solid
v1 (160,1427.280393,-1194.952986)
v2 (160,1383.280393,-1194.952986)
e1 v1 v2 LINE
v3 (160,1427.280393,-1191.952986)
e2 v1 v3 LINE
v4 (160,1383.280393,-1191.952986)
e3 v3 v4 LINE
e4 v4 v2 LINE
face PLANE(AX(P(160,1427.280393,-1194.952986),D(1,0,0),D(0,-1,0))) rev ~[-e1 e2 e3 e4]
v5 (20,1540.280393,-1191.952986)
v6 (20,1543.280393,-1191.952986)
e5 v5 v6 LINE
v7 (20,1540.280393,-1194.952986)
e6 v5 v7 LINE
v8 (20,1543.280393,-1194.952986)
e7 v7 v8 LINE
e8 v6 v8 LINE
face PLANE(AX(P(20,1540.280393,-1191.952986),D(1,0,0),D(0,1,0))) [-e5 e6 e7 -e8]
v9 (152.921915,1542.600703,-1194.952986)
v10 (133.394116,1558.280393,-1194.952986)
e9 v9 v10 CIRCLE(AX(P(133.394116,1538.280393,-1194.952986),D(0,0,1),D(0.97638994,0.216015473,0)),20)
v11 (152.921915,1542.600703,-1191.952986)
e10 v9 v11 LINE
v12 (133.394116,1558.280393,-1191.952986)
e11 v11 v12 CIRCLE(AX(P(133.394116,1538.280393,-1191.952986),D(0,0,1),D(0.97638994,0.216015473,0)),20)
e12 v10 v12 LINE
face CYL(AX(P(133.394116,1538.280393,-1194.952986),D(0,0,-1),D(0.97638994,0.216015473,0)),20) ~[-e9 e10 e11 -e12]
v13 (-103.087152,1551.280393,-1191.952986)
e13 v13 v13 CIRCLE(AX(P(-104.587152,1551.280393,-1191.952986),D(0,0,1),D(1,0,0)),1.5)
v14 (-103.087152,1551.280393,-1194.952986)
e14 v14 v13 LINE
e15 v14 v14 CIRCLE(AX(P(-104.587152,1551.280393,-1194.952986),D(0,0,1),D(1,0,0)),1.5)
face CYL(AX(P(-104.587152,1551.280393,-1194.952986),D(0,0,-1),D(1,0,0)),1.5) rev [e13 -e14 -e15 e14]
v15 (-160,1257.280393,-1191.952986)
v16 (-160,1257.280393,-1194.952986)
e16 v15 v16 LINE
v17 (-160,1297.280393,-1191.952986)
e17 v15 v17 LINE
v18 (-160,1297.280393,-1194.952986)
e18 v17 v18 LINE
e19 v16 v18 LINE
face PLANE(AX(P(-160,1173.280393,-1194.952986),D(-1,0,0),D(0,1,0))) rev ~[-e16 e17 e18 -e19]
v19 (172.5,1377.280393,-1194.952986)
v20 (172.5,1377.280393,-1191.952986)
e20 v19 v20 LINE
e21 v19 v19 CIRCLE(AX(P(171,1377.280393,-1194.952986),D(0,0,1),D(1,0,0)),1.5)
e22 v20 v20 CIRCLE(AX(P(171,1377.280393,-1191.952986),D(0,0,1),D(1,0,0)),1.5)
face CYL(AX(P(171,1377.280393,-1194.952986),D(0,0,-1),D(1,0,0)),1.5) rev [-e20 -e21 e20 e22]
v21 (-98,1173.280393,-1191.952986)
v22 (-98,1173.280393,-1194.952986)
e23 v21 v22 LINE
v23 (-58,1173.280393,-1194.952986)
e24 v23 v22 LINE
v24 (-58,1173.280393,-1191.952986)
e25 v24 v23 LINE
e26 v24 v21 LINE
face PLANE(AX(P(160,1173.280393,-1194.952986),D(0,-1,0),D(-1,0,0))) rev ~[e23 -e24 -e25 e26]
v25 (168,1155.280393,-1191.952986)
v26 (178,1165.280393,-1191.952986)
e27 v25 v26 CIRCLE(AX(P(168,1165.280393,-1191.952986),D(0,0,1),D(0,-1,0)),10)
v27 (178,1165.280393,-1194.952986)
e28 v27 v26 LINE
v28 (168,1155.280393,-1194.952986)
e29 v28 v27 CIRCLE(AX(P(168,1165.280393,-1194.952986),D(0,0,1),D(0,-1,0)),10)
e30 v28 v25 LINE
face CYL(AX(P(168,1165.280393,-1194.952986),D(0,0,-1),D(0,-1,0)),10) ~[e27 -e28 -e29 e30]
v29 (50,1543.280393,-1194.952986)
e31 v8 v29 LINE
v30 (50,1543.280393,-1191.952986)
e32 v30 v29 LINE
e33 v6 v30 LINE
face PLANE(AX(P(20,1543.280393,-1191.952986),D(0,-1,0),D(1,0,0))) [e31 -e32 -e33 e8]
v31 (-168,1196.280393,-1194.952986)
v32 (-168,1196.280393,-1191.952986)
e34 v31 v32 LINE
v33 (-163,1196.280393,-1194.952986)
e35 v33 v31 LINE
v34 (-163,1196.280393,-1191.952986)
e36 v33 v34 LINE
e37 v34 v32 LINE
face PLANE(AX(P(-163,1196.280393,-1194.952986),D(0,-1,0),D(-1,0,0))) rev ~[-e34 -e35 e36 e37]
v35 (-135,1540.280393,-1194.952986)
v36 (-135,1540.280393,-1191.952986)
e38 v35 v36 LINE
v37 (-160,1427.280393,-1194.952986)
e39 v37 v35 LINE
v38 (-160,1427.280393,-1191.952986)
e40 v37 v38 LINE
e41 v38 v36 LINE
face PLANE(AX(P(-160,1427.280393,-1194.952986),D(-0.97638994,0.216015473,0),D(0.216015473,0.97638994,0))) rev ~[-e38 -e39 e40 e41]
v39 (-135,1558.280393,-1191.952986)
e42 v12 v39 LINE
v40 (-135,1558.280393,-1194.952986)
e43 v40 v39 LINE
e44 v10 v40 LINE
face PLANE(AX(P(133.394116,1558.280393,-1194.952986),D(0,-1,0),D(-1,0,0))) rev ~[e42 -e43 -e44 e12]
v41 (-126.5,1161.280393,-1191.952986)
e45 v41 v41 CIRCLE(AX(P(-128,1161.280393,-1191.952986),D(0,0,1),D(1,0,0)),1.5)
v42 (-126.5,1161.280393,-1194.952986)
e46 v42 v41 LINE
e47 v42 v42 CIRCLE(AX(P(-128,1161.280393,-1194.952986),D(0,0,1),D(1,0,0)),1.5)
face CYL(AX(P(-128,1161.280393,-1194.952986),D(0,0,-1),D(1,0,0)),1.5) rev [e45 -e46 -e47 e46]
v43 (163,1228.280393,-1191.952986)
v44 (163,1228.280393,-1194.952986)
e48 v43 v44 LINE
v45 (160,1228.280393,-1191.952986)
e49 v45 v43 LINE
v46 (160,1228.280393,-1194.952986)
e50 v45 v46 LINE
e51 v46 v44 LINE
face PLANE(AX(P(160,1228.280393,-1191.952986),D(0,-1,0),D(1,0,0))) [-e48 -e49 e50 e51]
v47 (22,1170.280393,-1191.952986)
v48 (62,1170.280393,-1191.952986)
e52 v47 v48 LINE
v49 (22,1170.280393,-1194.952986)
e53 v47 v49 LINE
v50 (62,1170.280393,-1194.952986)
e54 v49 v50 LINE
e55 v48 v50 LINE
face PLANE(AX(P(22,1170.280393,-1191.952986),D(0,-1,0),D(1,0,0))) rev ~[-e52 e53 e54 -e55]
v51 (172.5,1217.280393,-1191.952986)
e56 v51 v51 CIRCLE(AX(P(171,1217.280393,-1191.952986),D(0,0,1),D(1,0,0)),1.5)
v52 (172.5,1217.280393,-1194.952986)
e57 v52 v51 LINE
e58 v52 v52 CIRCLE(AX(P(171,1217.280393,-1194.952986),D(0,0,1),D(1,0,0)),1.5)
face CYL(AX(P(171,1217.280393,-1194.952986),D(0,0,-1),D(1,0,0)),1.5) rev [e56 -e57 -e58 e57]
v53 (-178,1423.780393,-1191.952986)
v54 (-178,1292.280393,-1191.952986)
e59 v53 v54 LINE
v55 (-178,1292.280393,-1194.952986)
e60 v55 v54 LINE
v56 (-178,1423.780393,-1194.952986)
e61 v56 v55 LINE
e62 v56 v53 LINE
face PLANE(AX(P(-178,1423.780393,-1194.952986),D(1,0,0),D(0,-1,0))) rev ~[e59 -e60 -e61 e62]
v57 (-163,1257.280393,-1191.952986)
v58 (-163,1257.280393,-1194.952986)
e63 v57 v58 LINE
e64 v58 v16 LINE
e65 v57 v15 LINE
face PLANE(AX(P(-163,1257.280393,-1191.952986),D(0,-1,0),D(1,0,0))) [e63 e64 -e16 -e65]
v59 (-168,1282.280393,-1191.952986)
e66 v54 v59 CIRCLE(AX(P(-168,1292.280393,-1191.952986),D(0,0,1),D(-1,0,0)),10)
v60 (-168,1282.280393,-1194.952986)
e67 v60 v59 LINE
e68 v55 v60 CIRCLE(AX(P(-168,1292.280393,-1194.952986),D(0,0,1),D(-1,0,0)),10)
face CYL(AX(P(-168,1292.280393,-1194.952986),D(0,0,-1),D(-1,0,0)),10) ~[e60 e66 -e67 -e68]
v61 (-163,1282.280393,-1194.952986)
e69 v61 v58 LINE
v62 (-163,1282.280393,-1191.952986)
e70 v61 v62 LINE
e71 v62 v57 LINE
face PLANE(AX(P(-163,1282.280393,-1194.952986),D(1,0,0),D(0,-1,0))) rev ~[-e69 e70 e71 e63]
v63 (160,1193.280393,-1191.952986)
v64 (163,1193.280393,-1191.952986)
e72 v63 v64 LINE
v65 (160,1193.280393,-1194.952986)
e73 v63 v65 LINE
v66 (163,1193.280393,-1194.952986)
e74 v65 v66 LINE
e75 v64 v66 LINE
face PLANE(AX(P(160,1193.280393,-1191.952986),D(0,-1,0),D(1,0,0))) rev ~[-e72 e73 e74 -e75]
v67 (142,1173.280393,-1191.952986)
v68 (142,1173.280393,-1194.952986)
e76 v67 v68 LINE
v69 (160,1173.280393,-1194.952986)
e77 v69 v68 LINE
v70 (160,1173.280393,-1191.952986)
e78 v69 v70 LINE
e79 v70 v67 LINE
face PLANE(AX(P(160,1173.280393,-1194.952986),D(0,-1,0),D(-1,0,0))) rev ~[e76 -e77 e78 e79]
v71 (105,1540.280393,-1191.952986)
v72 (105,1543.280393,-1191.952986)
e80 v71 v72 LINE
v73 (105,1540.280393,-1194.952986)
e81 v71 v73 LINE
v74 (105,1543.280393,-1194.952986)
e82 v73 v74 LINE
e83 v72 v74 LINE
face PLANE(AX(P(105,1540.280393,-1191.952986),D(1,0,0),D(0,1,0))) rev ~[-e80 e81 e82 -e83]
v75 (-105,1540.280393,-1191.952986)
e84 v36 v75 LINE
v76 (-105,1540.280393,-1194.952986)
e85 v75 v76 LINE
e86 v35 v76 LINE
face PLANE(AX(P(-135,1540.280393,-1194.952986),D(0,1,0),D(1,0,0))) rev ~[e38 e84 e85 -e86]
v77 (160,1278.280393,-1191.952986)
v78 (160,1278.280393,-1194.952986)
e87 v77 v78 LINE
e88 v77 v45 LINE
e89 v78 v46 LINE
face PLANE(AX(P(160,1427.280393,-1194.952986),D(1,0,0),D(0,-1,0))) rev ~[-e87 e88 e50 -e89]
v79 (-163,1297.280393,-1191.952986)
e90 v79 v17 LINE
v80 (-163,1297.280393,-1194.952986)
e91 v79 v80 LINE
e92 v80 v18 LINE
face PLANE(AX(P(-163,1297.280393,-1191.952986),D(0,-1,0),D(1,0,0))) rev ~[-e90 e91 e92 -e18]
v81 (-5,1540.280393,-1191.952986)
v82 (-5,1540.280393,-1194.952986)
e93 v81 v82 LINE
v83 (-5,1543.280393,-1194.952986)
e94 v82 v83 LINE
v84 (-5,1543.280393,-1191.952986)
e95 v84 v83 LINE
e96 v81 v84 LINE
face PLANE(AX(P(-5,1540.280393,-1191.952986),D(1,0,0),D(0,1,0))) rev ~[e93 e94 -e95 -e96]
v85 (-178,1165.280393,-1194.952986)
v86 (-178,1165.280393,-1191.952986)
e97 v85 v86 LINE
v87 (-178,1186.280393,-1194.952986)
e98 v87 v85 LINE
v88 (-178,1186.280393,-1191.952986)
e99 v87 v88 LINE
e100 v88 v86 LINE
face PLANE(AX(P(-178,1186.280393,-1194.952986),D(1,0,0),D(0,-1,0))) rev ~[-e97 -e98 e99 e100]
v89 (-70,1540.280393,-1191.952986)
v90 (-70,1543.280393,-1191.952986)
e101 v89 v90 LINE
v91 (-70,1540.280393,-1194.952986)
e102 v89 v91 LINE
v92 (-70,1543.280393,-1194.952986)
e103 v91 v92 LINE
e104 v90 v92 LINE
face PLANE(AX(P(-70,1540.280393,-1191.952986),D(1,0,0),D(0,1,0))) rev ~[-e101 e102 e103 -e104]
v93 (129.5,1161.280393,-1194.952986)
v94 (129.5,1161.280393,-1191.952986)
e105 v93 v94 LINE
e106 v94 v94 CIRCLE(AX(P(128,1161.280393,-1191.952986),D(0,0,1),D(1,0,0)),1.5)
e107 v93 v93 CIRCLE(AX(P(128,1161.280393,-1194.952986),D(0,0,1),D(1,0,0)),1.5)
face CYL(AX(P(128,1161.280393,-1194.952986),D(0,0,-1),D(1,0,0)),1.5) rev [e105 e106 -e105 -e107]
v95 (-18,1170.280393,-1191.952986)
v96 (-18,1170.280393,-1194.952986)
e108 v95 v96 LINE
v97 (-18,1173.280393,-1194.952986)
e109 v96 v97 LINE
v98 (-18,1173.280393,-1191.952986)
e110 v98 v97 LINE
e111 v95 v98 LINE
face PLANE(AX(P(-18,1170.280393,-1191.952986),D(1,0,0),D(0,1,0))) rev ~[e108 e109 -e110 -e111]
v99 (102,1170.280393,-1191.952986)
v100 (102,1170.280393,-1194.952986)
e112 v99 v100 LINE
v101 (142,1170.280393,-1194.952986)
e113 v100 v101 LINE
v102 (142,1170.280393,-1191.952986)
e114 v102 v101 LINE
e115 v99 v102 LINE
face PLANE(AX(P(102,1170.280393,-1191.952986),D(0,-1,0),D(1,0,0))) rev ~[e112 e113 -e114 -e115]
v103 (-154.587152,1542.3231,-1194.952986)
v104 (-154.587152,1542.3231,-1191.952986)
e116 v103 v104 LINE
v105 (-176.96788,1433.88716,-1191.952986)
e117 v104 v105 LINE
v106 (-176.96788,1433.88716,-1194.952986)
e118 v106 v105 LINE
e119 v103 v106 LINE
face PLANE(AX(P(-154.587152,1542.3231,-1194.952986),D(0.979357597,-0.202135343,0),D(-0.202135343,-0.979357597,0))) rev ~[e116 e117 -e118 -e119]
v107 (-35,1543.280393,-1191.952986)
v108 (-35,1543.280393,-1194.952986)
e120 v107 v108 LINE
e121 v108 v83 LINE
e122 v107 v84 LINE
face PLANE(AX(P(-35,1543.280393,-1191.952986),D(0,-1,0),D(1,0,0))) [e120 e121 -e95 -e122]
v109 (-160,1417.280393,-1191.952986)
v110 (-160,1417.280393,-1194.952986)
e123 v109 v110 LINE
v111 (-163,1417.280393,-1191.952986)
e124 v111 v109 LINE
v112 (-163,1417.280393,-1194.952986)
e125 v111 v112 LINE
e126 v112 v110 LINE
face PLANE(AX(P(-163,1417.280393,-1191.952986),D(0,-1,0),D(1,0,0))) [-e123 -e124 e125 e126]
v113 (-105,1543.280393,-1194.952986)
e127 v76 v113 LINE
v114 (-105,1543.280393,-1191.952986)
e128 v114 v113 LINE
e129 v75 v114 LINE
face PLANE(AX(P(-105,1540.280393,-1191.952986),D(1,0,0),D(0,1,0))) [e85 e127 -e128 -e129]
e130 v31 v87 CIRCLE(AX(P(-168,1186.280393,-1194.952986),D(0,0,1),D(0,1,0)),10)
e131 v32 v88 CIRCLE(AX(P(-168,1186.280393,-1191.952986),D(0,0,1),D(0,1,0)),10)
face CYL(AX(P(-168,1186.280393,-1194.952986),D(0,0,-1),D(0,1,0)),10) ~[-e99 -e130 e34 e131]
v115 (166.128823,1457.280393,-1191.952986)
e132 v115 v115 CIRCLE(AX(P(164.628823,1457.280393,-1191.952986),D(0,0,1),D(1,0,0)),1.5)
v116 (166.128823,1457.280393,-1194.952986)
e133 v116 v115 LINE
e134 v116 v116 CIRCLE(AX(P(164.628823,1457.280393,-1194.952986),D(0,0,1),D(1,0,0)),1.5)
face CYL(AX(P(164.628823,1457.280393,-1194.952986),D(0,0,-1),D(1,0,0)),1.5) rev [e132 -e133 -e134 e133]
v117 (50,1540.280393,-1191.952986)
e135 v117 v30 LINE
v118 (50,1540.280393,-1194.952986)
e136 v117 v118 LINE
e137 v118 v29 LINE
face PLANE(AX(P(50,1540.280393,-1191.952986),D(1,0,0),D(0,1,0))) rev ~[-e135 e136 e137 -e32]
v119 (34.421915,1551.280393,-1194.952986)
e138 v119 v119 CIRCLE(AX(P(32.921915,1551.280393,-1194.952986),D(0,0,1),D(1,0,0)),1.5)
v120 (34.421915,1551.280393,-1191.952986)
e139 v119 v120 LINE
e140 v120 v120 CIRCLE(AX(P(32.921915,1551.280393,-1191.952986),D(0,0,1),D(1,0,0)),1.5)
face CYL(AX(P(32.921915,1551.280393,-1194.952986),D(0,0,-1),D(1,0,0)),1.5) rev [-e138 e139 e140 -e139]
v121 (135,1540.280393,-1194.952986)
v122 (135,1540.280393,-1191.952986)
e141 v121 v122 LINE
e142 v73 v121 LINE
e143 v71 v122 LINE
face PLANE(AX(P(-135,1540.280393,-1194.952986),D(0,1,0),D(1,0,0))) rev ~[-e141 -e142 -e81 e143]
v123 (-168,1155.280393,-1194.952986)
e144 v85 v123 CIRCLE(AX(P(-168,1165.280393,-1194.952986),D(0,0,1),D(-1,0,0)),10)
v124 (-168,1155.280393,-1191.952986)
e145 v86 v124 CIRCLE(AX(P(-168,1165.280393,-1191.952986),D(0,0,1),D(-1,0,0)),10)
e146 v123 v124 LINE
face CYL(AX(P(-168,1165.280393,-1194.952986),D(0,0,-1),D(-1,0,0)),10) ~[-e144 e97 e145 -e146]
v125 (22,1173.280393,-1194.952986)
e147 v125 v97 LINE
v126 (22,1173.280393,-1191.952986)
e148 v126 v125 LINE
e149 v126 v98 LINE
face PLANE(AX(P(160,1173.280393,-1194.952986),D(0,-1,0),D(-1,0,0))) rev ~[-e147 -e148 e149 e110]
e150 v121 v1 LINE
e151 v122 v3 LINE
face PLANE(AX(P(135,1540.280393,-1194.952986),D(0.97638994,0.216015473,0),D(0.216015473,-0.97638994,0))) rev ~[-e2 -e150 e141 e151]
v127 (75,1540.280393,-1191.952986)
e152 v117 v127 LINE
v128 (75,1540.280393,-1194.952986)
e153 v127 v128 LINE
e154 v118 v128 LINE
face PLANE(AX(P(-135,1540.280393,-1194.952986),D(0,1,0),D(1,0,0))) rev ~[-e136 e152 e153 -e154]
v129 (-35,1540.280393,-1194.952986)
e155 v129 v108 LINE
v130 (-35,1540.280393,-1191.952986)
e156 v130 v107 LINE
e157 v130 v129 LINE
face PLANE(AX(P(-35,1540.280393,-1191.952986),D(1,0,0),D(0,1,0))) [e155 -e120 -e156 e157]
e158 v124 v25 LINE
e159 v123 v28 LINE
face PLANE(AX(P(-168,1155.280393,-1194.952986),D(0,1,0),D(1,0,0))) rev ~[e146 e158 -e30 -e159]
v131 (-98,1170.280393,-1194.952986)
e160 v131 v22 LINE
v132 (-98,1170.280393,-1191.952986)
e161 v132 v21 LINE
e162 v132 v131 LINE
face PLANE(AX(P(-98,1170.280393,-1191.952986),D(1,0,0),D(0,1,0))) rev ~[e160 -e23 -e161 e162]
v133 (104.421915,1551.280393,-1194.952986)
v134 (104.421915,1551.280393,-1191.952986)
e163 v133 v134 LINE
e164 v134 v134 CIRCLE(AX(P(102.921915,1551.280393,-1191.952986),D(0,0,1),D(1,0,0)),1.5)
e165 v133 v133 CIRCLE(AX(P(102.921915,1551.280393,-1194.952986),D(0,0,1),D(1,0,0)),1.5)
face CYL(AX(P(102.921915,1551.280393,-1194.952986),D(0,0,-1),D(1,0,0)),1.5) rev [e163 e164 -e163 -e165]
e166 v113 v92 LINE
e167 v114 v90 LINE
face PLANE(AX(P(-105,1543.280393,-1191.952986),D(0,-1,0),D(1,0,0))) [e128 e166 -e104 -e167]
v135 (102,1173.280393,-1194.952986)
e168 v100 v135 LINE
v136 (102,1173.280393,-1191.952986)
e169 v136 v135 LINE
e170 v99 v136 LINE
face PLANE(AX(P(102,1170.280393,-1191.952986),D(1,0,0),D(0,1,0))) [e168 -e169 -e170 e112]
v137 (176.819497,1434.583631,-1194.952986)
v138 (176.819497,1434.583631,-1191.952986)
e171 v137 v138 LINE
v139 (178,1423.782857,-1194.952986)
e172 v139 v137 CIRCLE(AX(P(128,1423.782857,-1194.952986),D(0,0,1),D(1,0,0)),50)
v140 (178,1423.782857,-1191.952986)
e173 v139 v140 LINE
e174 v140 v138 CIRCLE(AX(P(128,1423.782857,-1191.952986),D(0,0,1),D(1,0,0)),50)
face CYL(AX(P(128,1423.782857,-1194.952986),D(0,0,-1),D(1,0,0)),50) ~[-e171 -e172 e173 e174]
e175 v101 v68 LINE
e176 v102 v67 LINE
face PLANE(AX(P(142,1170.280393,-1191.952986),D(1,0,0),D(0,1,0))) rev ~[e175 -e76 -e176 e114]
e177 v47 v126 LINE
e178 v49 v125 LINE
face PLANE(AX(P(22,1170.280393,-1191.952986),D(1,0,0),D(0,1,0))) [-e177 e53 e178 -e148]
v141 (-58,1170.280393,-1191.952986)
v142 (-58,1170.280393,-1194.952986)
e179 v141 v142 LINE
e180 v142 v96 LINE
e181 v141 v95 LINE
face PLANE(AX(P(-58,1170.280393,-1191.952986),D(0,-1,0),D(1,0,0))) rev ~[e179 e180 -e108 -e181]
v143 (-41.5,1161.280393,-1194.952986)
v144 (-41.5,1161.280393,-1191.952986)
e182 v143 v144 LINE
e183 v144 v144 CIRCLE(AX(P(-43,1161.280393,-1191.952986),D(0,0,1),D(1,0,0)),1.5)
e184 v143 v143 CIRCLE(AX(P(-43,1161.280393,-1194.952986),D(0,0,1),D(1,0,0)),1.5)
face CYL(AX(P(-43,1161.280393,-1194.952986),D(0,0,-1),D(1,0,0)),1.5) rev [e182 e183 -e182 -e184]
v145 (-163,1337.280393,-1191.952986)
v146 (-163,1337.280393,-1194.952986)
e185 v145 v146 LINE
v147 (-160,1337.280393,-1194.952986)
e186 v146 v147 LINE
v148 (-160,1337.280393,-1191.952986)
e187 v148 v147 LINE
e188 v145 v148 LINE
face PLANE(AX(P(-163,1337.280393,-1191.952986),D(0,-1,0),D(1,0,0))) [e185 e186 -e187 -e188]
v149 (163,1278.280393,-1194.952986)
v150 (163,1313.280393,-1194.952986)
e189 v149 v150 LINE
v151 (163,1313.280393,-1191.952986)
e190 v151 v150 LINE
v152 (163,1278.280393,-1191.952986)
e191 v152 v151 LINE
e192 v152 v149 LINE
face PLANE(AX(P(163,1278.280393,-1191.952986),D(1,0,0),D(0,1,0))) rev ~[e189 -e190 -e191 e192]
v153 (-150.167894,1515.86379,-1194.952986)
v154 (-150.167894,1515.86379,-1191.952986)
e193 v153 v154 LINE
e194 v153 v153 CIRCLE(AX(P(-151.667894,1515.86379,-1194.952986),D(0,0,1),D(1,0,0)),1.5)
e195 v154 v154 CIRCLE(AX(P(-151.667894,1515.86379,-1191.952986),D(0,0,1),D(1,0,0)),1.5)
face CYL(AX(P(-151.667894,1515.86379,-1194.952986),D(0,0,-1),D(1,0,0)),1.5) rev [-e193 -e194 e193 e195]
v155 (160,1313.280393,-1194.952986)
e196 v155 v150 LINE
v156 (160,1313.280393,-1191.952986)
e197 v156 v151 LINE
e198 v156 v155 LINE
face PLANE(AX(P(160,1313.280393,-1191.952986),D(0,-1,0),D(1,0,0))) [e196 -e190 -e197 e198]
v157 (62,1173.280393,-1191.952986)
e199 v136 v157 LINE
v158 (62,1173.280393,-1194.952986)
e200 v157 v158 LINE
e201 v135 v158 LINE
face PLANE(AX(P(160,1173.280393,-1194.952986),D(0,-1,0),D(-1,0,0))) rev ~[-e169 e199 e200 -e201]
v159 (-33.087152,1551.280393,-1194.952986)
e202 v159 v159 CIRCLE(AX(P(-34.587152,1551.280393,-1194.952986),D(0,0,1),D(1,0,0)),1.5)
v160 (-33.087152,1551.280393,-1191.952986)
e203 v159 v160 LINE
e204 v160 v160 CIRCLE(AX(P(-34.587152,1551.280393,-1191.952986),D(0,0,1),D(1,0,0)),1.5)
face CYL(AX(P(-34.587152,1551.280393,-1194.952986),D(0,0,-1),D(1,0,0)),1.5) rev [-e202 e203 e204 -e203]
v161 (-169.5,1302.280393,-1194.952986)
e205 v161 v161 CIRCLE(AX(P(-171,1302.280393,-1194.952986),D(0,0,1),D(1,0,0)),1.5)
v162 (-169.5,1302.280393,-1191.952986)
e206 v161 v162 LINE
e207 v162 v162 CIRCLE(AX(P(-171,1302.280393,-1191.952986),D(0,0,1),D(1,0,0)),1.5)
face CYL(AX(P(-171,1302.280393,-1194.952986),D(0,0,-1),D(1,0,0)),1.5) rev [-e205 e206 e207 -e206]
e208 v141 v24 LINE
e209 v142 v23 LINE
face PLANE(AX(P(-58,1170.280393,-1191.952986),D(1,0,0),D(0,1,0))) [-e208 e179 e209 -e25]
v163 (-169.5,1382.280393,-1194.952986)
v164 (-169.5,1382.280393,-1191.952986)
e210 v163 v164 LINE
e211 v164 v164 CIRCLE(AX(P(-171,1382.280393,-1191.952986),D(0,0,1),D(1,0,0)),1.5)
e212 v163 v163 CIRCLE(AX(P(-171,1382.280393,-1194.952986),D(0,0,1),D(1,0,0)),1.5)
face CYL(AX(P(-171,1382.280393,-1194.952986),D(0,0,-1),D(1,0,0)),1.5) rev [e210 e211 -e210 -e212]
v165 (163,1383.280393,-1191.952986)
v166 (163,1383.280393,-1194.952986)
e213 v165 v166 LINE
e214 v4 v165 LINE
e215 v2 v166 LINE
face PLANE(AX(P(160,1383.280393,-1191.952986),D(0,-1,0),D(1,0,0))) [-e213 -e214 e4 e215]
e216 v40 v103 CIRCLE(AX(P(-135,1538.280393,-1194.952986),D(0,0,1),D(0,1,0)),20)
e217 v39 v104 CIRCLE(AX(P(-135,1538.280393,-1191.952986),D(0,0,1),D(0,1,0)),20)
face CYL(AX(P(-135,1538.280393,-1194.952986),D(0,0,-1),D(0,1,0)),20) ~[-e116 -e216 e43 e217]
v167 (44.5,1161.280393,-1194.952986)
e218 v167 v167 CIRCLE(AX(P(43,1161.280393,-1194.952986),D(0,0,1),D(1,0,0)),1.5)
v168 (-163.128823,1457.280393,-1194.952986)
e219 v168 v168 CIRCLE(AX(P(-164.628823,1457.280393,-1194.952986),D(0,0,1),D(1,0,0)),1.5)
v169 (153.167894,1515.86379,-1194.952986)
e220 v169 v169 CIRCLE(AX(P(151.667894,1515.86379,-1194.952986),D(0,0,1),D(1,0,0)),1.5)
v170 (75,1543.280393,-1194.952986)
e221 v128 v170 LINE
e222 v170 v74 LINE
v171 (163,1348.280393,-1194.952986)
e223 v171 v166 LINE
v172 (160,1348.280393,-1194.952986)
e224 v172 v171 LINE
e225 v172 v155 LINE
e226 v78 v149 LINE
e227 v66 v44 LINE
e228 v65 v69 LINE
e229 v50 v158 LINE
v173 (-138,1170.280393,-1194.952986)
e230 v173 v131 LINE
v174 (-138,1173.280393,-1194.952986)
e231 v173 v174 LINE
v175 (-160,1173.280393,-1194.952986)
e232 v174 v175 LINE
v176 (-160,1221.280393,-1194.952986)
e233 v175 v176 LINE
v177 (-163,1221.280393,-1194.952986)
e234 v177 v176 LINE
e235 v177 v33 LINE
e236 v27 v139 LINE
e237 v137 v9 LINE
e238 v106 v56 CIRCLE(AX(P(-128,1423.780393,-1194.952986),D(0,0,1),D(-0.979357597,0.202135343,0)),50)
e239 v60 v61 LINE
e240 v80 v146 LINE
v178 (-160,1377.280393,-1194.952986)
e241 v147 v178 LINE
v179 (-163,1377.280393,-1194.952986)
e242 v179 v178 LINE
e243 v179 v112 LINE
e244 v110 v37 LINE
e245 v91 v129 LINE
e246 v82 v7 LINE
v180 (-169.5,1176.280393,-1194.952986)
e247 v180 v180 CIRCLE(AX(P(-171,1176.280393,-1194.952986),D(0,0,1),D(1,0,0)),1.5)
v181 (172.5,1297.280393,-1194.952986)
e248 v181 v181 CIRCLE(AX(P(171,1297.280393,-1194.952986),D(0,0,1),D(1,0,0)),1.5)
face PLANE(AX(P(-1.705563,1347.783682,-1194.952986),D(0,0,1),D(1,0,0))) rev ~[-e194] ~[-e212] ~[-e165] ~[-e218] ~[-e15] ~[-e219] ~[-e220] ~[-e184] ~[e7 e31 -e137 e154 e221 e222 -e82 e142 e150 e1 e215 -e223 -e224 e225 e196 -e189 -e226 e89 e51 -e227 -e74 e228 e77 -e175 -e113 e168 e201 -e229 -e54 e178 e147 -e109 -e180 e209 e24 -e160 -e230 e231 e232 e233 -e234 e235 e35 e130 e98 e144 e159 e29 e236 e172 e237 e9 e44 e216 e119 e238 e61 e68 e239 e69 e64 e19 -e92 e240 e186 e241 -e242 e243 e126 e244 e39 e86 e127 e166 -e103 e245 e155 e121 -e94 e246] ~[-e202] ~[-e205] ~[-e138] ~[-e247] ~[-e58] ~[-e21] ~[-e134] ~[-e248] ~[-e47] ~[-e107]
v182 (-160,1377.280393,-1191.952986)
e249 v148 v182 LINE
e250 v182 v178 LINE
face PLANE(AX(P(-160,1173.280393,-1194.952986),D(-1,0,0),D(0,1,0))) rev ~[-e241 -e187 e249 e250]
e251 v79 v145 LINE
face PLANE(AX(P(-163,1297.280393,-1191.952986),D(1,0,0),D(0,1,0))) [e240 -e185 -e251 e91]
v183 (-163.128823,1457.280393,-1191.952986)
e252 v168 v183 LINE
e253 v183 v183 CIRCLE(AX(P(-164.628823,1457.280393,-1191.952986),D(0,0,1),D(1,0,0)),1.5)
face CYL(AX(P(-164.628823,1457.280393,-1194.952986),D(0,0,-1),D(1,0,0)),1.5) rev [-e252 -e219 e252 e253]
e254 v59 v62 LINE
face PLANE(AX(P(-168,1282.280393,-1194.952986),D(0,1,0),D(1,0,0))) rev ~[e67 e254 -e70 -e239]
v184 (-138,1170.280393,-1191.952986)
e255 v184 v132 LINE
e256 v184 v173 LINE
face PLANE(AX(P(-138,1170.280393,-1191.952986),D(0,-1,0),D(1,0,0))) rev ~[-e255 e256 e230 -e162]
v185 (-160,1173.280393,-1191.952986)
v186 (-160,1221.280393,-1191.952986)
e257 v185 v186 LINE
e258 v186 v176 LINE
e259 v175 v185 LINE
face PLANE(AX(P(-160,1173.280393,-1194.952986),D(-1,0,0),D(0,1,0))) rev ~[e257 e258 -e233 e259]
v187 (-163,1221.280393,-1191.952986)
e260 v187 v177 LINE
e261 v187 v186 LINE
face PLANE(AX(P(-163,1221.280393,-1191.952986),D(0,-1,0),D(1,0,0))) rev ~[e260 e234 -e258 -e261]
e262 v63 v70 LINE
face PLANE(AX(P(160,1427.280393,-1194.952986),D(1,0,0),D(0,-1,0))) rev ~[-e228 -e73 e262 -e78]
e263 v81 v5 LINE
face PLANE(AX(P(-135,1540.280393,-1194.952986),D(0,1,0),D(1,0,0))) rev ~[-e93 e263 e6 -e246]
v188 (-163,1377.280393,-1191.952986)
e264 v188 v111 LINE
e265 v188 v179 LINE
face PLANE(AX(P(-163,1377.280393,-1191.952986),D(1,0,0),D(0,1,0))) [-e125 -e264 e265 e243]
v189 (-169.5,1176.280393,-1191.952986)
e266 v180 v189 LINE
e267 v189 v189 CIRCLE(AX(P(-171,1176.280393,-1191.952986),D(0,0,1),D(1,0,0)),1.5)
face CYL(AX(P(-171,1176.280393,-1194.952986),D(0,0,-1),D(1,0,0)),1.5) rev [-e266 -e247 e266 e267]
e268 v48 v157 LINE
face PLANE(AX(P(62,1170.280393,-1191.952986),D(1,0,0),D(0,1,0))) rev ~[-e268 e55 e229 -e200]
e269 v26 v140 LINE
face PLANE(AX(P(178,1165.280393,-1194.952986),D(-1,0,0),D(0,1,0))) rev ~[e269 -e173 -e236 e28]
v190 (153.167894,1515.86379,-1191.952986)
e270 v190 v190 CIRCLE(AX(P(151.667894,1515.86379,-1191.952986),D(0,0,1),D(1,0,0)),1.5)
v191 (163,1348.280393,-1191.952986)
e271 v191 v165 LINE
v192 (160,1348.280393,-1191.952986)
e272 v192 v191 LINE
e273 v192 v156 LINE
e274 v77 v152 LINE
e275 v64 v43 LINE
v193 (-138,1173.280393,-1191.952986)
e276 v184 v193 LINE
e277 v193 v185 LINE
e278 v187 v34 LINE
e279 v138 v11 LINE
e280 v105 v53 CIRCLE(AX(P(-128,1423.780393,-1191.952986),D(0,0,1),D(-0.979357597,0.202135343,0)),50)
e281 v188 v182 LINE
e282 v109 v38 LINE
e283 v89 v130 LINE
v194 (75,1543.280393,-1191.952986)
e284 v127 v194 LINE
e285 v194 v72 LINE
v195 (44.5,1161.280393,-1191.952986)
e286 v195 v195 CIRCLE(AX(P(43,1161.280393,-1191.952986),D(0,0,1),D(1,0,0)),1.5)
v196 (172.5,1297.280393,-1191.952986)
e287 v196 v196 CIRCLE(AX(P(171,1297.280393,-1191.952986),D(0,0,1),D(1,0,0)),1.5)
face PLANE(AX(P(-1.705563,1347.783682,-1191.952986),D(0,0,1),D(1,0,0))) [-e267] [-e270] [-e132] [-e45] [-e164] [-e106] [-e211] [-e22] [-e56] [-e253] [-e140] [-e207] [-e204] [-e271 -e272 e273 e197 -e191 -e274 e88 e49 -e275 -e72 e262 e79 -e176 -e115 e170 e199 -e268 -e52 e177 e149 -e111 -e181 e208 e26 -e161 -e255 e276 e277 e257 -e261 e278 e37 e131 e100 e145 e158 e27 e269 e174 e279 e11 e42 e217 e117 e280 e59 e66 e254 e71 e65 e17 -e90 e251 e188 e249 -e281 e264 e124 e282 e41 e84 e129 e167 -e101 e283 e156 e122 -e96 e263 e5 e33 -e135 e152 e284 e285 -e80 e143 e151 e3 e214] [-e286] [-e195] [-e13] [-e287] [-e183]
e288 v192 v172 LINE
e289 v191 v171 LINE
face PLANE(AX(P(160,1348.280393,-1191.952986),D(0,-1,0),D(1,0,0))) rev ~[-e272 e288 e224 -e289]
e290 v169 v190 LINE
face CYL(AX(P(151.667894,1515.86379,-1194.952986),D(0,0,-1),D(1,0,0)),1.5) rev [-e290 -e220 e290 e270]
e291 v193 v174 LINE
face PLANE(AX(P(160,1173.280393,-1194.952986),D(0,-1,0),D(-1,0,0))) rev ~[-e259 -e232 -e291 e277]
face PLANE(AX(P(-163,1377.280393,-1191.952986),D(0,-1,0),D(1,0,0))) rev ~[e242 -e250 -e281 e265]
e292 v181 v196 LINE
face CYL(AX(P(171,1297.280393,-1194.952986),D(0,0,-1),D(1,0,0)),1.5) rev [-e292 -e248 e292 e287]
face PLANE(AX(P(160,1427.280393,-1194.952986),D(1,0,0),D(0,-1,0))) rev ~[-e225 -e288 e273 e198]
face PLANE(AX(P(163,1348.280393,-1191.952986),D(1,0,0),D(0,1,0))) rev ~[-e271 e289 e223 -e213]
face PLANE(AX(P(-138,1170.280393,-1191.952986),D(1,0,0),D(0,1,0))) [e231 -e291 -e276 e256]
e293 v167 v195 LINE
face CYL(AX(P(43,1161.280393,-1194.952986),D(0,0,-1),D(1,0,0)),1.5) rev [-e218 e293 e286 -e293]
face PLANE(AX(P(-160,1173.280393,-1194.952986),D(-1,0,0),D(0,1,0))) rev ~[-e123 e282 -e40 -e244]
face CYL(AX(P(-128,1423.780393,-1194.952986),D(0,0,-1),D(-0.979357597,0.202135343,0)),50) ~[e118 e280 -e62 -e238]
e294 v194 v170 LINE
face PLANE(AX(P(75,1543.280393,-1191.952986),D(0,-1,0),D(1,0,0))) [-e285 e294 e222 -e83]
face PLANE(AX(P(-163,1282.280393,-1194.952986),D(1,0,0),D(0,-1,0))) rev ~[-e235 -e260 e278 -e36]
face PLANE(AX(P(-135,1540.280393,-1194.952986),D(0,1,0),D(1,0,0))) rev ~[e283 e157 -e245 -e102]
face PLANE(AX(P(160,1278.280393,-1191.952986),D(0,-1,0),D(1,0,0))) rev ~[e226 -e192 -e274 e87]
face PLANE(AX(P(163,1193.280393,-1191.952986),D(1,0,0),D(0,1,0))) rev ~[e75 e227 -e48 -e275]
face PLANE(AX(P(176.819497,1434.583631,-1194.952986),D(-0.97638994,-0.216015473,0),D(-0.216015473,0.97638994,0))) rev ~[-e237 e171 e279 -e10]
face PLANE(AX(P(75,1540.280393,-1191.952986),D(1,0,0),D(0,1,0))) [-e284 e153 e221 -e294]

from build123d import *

# Parameters (mm, degrees)
SKETCH1_R           = 1.5
BOSS_EXTRUDE1_DEPTH = 3
SKETCH2_W           = 40
SKETCH2_H           = 3
SKETCH2_W_2         = 3
SKETCH2_H_2         = 36
SKETCH2_H_3         = 40
SKETCH2_W_3         = 35
SKETCH2_W_4         = 30
SKETCH2_H_4         = 35
CUT_EXTRUDE1_DEPTH  = 3


with BuildPart() as part:
    # Sketch1 → Boss-Extrude1 (new body)
    with BuildSketch(Plane.XY.offset(-1194.952985965)):
        with BuildLine():
            ThreePointArc((-135, 1558.280393103), (-147.632217989, 1553.786103944), (-154.587151942, 1542.323099971))
            Line((-154.587151942, 1542.323099971), (-176.967879854, 1433.887160273))
            ThreePointArc((-176.967879854, 1433.887160273), (-177.74130071, 1428.860058806), (-178, 1423.780393103))
            Line((-178, 1423.780393103), (-178, 1292.280393103))
            ThreePointArc((-178, 1292.280393103), (-175.071067812, 1285.209325291), (-168, 1282.280393103))
            Line((-168, 1282.280393103), (-163, 1282.280393103))
            Line((-163, 1282.280393103), (-163, 1196.280393103))
            Line((-163, 1196.280393103), (-168, 1196.280393103))
            ThreePointArc((-168, 1196.280393103), (-175.071067812, 1193.351460915), (-178, 1186.280393103))
            Line((-178, 1186.280393103), (-178, 1165.280393103))
            ThreePointArc((-178, 1165.280393103), (-175.071067812, 1158.209325291), (-168, 1155.280393103))
            Line((-168, 1155.280393103), (168, 1155.280393103))
            ThreePointArc((168, 1155.280393103), (175.071067812, 1158.209325291), (178, 1165.280393103))
            Line((178, 1165.280393103), (178, 1423.782857009))
            ThreePointArc((178, 1423.782857009), (177.70399808, 1429.215404737), (176.819497007, 1434.583630683))
            Line((176.819497007, 1434.583630683), (152.921914731, 1542.600702573))
            ThreePointArc((152.921914731, 1542.600702573), (145.915973031, 1553.875363276), (133.394115928, 1558.280393103))
            Line((133.394115928, 1558.280393103), (-135, 1558.280393103))
        make_face()
        with Locations((-171, 1176.280393103)):
            Circle(SKETCH1_R, mode=Mode.SUBTRACT)
        with Locations((-128, 1161.280393103)):
            Circle(SKETCH1_R, mode=Mode.SUBTRACT)
        with Locations((-43, 1161.280393103)):
            Circle(SKETCH1_R, mode=Mode.SUBTRACT)
        with Locations((-171, 1302.280393103)):
            Circle(SKETCH1_R, mode=Mode.SUBTRACT)
        with Locations((43, 1161.280393103)):
            Circle(SKETCH1_R, mode=Mode.SUBTRACT)
        with Locations((128, 1161.280393103)):
            Circle(SKETCH1_R, mode=Mode.SUBTRACT)
        with Locations((171, 1217.280393103)):
            Circle(SKETCH1_R, mode=Mode.SUBTRACT)
        with Locations((171, 1297.280393103)):
            Circle(SKETCH1_R, mode=Mode.SUBTRACT)
        with Locations((-171, 1382.280393103)):
            Circle(SKETCH1_R, mode=Mode.SUBTRACT)
        with Locations((-164.628822574, 1457.280393103)):
            Circle(SKETCH1_R, mode=Mode.SUBTRACT)
        with Locations((-151.667894165, 1515.863789512)):
            Circle(SKETCH1_R, mode=Mode.SUBTRACT)
        with Locations((-104.587151942, 1551.280393103)):
            Circle(SKETCH1_R, mode=Mode.SUBTRACT)
        with Locations((-34.587151942, 1551.280393103)):
            Circle(SKETCH1_R, mode=Mode.SUBTRACT)
        Polygon((160, 1173.280393103), (-160, 1173.280393103), (-160, 1282.280393103), (-160, 1427.280393103), (-135, 1540.280393103), (135, 1540.280393103), (160, 1427.280393103), align=None, mode=Mode.SUBTRACT)
        with Locations((171, 1377.280393103)):
            Circle(SKETCH1_R, mode=Mode.SUBTRACT)
        with Locations((164.628822573, 1457.280393103)):
            Circle(SKETCH1_R, mode=Mode.SUBTRACT)
        with Locations((32.921914731, 1551.280393103)):
            Circle(SKETCH1_R, mode=Mode.SUBTRACT)
        with Locations((102.921914731, 1551.280393103)):
            Circle(SKETCH1_R, mode=Mode.SUBTRACT)
        with Locations((151.667894164, 1515.863789512)):
            Circle(SKETCH1_R, mode=Mode.SUBTRACT)
    extrude(amount=BOSS_EXTRUDE1_DEPTH)

    # Sketch2 → Cut-Extrude1 (cut)
    with BuildSketch(Plane.XY.offset(-1191.952985965)):
        with Locations((-118, 1171.780393103)):
            Rectangle(SKETCH2_W, SKETCH2_H)
        with Locations((-38, 1171.780393103)):
            Rectangle(SKETCH2_W, SKETCH2_H)
        with Locations((42, 1171.780393103)):
            Rectangle(SKETCH2_W, SKETCH2_H)
        with Locations((122, 1171.780393103)):
            Rectangle(SKETCH2_W, SKETCH2_H)
        with Locations((-161.5, 1239.280393103)):
            Rectangle(SKETCH2_W_2, SKETCH2_H_2)
        with Locations((-161.5, 1317.280393103)):
            Rectangle(SKETCH2_W_2, SKETCH2_H_3)
        with Locations((-161.5, 1397.280393103)):
            Rectangle(SKETCH2_W_2, SKETCH2_H_3)
        with Locations((-87.5, 1541.780393103)):
            Rectangle(SKETCH2_W_3, SKETCH2_H)
        with Locations((-20, 1541.780393103)):
            Rectangle(SKETCH2_W_4, SKETCH2_H)
        with Locations((35, 1541.780393103)):
            Rectangle(SKETCH2_W_4, SKETCH2_H)
        with Locations((90, 1541.780393103)):
            Rectangle(SKETCH2_W_4, SKETCH2_H)
        with Locations((161.5, 1295.780393103)):
            Rectangle(SKETCH2_W_2, SKETCH2_H_4)
        with Locations((161.5, 1210.780393103)):
            Rectangle(SKETCH2_W_2, SKETCH2_H_4)
        with Locations((161.5, 1365.780393103)):
            Rectangle(SKETCH2_W_2, SKETCH2_H_4)
    extrude(amount=-CUT_EXTRUDE1_DEPTH, mode=Mode.SUBTRACT)


solid = part.part
